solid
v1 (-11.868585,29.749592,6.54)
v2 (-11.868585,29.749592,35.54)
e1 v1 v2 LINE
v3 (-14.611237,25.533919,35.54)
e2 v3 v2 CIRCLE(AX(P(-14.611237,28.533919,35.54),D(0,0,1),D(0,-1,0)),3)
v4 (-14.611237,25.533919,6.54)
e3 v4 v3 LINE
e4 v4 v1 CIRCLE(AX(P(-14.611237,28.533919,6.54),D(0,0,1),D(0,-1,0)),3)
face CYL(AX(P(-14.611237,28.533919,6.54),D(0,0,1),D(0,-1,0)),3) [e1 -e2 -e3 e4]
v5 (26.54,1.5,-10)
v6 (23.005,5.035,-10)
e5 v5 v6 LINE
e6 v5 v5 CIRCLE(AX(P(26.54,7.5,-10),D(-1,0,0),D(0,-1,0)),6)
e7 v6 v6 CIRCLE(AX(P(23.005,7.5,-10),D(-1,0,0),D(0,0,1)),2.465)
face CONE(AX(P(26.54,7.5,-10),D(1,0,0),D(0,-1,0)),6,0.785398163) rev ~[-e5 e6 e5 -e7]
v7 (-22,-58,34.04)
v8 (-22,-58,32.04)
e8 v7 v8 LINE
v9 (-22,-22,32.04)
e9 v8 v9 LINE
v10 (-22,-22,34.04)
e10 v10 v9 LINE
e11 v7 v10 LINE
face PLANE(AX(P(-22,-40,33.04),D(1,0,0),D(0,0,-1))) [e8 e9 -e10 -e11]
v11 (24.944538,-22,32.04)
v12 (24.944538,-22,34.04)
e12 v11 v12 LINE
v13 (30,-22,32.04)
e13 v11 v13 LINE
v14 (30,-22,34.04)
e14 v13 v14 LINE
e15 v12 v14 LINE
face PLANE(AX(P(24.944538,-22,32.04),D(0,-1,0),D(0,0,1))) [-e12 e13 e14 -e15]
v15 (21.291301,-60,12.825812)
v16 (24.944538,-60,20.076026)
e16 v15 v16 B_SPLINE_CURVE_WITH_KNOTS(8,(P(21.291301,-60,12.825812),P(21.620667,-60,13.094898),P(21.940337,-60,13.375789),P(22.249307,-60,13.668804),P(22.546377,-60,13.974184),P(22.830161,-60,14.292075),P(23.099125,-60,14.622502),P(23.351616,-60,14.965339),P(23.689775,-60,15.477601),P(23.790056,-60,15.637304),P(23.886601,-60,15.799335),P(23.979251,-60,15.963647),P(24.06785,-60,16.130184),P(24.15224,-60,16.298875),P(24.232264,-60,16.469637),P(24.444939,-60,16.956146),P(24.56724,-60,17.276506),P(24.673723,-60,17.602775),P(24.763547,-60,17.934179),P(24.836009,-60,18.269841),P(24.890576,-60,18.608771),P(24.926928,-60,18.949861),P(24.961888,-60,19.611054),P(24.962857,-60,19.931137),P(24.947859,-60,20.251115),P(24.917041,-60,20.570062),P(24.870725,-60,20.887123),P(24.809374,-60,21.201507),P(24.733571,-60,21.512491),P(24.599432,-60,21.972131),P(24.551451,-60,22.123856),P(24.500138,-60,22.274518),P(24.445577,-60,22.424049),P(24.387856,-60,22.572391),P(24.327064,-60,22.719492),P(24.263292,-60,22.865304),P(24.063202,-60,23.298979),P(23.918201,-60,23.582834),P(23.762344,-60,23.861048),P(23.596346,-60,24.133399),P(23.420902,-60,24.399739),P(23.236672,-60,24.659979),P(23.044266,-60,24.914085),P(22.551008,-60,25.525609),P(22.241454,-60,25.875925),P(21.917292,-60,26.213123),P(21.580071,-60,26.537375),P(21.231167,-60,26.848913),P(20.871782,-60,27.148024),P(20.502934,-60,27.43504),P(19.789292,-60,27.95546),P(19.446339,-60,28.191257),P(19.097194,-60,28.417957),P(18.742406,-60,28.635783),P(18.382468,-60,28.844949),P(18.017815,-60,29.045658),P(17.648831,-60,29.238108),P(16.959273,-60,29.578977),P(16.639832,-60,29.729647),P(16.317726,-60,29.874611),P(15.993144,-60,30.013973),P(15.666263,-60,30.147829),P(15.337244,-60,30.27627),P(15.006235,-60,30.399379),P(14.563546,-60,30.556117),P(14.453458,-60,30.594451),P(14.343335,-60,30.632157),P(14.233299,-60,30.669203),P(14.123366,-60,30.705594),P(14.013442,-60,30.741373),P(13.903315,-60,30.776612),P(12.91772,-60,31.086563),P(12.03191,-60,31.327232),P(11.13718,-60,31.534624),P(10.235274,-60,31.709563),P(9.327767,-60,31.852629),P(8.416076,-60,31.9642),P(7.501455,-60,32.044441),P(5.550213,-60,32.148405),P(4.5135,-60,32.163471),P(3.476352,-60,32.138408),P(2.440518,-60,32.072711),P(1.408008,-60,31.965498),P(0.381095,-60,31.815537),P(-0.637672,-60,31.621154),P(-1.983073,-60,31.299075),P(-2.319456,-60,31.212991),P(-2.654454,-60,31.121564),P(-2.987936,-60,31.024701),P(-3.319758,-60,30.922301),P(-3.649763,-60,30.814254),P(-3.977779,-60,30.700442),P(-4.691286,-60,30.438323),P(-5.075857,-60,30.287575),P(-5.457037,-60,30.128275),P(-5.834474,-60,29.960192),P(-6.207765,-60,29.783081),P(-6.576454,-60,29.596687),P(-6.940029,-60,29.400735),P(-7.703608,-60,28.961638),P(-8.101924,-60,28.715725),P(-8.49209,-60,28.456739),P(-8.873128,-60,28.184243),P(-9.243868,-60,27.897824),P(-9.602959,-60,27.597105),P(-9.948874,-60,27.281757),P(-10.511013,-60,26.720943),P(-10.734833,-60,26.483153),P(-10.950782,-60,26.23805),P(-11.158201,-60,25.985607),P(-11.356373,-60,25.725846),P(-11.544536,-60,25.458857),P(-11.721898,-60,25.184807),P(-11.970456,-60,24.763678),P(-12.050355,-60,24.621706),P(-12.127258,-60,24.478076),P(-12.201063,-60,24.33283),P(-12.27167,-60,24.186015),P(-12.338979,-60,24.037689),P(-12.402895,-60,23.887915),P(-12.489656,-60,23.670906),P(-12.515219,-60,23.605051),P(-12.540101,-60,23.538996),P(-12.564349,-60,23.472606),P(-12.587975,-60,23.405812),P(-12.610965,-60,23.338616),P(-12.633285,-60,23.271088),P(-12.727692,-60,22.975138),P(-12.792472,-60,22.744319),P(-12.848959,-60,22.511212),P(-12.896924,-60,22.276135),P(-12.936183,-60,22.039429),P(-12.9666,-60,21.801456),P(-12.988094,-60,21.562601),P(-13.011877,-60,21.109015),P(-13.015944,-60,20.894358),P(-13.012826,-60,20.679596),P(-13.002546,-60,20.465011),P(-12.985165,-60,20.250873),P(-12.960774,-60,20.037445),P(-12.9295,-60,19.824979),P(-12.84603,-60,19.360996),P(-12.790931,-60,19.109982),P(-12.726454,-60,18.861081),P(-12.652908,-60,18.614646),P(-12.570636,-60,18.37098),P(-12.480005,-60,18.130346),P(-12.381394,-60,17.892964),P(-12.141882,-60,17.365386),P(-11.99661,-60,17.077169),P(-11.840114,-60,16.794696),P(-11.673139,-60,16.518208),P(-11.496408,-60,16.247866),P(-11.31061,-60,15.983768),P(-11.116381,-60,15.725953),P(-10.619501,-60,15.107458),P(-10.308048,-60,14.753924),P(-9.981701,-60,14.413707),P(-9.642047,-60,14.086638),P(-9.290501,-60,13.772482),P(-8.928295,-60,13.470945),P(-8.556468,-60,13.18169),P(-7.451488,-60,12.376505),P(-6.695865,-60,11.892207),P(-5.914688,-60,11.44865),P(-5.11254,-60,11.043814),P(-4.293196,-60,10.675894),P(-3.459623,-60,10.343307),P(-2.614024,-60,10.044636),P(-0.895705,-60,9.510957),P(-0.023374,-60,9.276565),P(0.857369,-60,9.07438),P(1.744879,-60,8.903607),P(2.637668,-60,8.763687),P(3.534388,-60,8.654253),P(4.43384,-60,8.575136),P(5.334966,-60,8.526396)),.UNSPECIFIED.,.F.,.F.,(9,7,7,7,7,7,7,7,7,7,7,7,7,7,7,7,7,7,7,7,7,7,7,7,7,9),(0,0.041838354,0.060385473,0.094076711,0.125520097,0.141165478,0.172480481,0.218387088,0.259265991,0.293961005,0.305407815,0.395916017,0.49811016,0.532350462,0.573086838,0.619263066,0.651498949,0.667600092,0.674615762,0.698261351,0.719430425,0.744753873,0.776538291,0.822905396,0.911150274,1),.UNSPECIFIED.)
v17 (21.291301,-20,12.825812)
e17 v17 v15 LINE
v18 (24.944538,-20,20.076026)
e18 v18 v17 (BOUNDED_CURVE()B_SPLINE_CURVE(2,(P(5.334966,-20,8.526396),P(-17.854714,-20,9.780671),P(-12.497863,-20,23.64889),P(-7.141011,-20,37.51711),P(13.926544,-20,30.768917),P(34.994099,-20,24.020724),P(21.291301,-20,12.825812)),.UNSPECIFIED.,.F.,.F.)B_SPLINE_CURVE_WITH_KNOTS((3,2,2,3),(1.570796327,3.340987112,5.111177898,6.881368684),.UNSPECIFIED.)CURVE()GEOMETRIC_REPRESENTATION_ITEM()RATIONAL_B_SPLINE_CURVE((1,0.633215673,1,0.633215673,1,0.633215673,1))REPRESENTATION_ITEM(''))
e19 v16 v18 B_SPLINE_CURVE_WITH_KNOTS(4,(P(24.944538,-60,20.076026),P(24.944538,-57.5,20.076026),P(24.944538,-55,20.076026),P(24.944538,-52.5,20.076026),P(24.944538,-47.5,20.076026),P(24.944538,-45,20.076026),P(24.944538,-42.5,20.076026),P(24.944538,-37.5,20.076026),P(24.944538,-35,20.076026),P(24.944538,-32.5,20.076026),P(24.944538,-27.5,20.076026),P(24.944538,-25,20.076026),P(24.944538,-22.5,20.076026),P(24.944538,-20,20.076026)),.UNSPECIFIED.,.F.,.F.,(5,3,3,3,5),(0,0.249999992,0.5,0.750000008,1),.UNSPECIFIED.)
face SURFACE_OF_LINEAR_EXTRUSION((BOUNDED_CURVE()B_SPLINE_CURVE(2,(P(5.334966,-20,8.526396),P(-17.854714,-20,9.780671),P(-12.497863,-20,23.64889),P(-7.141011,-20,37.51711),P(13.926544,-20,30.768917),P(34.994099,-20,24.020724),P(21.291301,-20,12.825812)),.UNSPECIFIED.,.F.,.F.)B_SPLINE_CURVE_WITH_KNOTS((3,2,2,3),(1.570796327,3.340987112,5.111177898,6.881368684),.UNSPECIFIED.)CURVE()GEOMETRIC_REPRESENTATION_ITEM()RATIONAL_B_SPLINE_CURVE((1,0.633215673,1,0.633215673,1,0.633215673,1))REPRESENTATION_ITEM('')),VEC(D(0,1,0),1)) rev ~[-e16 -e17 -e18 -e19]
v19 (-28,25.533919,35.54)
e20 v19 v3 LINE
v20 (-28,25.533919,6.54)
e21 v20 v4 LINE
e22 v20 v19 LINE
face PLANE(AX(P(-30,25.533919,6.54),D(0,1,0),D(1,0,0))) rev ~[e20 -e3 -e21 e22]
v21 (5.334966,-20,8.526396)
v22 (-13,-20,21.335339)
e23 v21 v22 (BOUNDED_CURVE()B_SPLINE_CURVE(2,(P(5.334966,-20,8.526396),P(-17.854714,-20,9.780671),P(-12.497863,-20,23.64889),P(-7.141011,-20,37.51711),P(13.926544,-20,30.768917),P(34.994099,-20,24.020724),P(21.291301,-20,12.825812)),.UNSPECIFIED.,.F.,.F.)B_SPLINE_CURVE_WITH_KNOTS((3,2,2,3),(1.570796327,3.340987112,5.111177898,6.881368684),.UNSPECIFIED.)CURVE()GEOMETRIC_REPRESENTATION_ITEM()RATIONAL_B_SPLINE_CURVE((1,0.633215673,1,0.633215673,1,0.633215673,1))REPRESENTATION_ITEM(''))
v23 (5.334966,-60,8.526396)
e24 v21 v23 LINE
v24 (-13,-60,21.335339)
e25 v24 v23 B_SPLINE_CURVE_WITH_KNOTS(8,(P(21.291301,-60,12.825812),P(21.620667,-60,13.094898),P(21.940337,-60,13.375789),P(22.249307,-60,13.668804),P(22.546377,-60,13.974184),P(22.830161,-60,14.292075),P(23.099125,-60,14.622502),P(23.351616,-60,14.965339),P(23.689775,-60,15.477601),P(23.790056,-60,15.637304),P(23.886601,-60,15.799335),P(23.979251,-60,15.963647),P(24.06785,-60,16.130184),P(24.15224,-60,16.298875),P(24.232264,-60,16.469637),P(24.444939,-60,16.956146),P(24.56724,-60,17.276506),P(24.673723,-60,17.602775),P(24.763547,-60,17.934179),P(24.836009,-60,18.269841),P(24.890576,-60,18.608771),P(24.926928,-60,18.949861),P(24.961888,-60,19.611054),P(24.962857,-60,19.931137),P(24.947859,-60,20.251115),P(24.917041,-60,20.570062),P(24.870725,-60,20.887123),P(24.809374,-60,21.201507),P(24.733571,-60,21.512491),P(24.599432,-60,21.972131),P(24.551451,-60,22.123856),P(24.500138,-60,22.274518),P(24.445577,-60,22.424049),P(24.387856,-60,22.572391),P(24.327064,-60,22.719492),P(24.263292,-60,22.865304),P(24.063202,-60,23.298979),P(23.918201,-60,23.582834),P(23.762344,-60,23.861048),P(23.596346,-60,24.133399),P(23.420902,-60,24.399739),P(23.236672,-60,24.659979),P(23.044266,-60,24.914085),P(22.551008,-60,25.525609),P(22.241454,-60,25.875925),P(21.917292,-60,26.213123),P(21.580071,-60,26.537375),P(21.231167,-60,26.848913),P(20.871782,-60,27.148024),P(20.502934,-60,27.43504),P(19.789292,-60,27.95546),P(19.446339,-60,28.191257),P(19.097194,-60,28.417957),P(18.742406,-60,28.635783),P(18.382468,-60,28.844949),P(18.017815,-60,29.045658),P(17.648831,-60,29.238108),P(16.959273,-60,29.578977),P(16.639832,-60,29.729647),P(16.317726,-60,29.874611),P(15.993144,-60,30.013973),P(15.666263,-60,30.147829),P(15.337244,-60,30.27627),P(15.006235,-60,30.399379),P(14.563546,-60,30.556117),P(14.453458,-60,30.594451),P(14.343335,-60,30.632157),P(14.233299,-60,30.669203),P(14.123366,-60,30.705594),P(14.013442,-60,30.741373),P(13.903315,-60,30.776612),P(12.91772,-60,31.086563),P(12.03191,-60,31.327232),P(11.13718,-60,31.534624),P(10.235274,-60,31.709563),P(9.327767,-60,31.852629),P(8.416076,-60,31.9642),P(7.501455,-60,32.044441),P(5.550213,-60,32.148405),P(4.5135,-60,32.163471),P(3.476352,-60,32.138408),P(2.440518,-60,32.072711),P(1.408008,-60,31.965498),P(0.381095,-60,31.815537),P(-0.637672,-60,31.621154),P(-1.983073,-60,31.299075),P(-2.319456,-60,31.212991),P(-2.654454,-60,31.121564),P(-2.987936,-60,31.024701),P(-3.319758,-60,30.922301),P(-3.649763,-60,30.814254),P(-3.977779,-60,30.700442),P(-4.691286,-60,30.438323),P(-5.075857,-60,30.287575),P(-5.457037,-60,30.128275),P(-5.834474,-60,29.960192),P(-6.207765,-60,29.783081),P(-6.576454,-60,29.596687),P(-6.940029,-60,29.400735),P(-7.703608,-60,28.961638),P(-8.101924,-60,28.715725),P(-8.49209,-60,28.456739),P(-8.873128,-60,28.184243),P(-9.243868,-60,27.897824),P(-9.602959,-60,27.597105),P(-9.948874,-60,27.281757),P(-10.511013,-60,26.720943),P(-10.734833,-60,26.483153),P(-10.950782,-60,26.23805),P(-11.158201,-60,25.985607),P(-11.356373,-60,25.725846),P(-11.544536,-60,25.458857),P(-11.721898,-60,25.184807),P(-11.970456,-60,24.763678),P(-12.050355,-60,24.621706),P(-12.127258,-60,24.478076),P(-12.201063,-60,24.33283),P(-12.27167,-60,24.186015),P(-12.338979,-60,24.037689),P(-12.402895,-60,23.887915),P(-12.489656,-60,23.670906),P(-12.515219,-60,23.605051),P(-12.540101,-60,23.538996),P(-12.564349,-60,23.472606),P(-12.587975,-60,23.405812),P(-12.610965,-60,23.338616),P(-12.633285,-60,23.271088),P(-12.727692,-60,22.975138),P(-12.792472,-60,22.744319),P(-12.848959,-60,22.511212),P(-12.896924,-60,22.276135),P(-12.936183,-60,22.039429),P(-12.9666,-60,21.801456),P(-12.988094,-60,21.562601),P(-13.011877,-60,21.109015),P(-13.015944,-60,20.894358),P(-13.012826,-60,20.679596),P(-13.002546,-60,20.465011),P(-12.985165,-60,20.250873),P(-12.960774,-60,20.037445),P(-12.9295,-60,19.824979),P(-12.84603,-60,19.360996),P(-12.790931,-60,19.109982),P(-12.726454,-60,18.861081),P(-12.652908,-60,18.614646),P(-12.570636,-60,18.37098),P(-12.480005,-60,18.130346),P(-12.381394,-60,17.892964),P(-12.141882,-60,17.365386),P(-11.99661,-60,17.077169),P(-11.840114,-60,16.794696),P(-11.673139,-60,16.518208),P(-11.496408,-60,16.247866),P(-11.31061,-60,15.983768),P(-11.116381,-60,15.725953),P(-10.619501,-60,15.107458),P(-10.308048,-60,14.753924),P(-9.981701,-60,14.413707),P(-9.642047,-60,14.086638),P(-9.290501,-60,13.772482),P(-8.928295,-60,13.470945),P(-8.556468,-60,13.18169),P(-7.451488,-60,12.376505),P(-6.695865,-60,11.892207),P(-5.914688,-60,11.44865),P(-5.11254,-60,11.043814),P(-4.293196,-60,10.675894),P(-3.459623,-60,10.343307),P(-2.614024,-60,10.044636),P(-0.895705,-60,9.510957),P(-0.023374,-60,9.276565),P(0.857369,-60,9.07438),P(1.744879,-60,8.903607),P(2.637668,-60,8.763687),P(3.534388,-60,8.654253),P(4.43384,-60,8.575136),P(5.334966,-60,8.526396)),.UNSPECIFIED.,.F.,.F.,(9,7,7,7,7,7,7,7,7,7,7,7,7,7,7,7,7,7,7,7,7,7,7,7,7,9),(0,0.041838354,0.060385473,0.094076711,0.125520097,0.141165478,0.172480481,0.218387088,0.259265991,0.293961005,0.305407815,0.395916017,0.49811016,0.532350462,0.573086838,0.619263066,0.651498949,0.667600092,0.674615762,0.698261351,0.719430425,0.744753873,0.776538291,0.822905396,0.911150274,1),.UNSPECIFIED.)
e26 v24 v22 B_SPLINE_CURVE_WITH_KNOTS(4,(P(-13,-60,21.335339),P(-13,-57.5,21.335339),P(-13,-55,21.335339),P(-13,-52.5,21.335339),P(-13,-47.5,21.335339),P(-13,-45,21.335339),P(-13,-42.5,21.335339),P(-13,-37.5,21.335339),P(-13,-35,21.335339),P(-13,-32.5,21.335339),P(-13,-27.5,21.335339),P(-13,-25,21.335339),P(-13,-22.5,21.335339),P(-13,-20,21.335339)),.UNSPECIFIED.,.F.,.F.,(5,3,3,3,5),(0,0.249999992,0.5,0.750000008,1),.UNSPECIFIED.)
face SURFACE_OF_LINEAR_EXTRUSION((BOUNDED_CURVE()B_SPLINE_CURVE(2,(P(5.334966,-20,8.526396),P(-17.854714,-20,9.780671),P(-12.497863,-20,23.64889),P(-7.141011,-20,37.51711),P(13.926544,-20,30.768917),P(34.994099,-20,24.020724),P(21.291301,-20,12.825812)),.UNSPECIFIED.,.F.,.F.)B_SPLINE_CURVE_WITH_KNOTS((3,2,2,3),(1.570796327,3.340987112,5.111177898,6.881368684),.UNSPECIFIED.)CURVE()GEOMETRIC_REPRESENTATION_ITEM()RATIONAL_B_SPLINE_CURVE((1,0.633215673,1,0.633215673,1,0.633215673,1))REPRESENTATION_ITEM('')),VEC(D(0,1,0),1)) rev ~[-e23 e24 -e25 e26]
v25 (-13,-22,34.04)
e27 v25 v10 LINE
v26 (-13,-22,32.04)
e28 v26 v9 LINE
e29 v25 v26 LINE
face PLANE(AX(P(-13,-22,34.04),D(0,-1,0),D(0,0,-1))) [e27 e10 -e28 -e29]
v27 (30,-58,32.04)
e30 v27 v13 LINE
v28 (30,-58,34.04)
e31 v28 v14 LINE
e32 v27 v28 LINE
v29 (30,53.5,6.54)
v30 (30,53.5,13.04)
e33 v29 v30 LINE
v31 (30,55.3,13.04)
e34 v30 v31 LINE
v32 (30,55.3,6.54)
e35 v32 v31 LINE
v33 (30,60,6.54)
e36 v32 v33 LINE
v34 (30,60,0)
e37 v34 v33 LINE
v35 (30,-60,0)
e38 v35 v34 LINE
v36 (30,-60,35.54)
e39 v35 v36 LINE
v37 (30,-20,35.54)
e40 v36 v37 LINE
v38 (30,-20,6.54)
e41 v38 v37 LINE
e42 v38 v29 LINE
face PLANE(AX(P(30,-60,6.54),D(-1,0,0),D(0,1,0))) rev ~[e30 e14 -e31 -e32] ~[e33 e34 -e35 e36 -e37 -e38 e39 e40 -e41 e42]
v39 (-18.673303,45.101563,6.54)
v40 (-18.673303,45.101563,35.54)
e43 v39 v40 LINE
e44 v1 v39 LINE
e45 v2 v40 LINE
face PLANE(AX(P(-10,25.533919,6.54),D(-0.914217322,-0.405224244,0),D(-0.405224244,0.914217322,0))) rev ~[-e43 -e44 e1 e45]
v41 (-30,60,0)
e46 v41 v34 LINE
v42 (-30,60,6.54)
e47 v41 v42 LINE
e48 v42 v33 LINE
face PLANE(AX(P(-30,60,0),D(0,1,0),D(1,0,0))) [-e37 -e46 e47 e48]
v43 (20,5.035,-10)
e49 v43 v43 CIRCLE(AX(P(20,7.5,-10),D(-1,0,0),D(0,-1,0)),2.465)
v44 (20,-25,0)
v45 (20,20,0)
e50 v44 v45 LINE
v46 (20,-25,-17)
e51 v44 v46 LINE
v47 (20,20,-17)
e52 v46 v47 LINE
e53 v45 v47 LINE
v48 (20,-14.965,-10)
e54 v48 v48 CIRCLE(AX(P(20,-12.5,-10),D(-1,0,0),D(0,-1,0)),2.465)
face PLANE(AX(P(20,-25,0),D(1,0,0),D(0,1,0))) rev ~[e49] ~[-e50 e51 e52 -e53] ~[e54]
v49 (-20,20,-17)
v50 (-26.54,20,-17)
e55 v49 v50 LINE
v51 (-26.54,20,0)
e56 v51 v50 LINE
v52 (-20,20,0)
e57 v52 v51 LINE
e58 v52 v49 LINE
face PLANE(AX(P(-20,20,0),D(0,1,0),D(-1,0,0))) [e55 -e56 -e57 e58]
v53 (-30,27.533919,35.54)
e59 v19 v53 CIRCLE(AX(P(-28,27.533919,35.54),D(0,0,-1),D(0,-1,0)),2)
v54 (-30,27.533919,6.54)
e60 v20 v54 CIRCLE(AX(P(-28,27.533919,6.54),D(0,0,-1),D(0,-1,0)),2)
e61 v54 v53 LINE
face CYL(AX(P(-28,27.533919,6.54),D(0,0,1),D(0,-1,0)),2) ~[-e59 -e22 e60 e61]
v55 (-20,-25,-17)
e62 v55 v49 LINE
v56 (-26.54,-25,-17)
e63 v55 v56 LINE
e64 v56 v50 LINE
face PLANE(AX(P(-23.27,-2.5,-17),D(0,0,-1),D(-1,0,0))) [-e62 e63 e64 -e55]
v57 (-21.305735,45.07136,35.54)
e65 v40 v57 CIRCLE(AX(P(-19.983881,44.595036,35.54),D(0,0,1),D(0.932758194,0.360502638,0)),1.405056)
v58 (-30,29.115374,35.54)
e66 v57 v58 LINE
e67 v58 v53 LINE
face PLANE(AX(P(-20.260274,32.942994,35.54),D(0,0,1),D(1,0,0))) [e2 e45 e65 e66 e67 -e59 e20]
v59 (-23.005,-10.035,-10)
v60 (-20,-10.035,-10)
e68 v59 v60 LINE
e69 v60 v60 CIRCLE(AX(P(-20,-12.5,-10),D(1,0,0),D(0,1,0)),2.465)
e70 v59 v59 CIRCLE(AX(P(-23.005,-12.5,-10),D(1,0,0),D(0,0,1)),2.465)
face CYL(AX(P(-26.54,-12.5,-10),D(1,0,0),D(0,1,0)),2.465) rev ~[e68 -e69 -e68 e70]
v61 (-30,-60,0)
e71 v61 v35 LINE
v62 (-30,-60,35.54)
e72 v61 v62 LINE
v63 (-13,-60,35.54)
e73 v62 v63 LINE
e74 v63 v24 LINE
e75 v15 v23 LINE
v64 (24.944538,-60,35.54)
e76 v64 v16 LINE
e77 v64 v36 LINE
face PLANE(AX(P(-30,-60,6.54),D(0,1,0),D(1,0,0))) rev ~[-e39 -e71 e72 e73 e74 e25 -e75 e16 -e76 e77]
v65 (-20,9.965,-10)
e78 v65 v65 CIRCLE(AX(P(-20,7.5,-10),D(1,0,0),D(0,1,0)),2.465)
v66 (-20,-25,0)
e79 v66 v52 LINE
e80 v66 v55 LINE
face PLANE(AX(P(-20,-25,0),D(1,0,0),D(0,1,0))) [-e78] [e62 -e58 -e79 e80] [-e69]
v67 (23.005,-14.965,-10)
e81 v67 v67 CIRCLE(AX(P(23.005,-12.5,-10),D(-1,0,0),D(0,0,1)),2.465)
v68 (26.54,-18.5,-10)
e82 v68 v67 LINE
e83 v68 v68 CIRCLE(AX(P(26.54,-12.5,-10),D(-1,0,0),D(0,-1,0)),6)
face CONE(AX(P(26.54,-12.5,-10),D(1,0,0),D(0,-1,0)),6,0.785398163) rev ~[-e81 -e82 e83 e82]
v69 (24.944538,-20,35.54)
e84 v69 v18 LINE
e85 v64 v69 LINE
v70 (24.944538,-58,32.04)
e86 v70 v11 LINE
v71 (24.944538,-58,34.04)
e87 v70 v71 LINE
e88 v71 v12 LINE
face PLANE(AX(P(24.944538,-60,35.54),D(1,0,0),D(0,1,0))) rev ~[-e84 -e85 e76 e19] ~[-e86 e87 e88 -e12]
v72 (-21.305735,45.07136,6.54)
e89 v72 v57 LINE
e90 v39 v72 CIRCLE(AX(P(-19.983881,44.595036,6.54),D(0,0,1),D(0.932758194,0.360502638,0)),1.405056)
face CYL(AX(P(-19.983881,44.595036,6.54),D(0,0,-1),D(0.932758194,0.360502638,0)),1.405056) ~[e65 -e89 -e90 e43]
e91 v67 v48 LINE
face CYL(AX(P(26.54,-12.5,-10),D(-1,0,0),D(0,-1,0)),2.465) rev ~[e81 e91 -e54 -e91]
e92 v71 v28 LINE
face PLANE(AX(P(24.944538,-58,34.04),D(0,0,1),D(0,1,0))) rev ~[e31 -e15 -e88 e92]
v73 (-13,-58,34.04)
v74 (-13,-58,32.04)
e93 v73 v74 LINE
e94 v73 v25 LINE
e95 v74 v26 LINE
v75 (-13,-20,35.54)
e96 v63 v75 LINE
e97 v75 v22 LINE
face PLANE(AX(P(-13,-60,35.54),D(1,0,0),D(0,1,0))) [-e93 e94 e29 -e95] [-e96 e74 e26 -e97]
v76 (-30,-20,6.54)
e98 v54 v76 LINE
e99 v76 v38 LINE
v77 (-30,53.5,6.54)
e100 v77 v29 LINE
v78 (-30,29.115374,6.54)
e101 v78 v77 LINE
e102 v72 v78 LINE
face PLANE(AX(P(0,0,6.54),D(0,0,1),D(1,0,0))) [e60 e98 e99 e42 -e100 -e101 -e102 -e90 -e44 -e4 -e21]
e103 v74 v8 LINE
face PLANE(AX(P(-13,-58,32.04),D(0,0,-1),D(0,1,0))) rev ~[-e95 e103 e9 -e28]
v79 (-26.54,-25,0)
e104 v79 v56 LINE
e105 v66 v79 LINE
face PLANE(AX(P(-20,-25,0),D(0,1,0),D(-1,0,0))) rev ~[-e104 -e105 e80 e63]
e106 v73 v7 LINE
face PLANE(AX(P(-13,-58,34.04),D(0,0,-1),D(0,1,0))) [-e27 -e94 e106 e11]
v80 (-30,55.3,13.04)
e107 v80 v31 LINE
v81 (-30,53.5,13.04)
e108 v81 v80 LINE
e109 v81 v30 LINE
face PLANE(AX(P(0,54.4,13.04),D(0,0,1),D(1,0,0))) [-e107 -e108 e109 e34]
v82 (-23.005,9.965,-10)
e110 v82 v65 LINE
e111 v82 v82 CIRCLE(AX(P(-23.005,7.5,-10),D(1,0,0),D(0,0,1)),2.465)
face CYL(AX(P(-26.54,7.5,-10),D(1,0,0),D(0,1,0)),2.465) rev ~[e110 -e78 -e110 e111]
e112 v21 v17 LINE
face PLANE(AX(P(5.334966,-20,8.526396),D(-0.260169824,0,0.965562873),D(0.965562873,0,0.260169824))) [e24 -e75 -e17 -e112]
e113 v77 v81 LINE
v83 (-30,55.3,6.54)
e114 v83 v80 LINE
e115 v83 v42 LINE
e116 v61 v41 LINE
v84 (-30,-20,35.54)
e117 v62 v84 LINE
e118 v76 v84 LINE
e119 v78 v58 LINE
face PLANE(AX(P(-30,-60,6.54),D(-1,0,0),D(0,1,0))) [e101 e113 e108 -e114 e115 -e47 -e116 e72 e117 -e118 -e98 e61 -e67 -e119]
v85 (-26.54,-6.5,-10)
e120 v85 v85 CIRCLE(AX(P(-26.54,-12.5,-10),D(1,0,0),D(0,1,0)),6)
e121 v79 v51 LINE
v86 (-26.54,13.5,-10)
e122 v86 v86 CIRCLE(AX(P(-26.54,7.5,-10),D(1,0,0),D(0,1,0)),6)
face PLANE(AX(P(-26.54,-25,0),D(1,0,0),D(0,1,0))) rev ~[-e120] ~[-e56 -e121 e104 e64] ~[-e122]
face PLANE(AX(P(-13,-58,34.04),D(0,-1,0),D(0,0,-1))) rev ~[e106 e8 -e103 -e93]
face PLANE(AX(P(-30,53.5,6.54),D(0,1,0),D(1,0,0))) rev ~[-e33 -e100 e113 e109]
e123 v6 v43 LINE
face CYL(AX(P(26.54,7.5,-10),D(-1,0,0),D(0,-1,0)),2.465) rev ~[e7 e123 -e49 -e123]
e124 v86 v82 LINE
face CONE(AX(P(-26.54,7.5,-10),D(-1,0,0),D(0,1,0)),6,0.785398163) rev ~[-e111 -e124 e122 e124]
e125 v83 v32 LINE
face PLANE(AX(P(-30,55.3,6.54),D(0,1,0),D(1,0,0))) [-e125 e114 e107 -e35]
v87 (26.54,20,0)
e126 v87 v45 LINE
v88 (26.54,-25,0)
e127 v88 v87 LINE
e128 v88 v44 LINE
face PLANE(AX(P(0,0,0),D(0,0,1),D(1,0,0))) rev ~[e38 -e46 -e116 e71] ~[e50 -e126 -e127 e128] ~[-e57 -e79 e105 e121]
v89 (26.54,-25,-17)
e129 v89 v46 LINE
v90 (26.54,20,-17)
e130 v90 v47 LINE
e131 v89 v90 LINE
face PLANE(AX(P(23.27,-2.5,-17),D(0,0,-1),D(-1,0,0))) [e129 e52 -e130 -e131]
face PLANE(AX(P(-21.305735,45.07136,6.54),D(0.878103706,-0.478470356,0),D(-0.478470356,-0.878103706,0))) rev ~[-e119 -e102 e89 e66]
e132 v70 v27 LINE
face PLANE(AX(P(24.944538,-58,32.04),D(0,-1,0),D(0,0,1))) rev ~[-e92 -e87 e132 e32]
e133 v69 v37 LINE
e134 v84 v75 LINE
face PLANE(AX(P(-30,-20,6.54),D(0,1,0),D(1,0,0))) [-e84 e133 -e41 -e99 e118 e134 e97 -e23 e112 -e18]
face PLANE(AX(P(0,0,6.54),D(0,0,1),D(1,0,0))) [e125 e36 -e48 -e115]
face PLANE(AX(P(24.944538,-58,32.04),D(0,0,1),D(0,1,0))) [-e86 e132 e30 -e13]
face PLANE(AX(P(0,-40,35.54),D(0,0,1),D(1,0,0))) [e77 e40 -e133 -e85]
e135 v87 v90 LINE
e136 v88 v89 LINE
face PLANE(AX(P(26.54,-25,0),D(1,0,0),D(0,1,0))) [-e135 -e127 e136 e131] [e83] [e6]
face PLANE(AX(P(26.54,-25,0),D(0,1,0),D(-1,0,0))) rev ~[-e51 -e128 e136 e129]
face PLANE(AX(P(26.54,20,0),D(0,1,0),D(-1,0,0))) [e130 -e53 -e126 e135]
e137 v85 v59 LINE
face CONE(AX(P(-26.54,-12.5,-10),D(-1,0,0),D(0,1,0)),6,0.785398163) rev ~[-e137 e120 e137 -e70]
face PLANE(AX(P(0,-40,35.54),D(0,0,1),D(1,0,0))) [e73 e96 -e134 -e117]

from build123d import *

# Parameters (mm, degrees)
SKETCH1_W                                       = 60
SKETCH1_H                                       = 120
BOSS_EXTRUDE1_DEPTH                             = 6.54
SKETCH10_W                                      = 6.54
SKETCH10_H                                      = 45
BOSS_EXTRUDE5_DEPTH                             = 17
SKETCH17_W                                      = 60
SKETCH17_H                                      = 40
BOSS_EXTRUDE6_DEPTH                             = 29
CUT_EXTRUDE1_REACH                              = 42
CUT_EXTRUDE2_REACH                              = 54.54
SKETCH21_W                                      = 37.9445377
SKETCH21_H                                      = 40
SKETCH23_W                                      = 2
SKETCH23_H                                      = 36
CUT_EXTRUDE3_DEPTH                              = 9
SKETCH24_W                                      = 2
SKETCH24_H                                      = 36
CUT_EXTRUDE4_DEPTH                              = 9
CSK_FOR_M3_FLAT_HEAD_MACHINE_SCREW4_D           = 4.93
CSK_FOR_M3_FLAT_HEAD_MACHINE_SCREW4_DEPTH       = 6.54
CSK_FOR_M3_FLAT_HEAD_MACHINE_SCREW4_CSINK_D     = 12
CSK_FOR_M3_FLAT_HEAD_MACHINE_SCREW4_CSINK_ANGLE = 90
CSK_FOR_M3_FLAT_HEAD_MACHINE_SCREW5_D           = 4.93
CSK_FOR_M3_FLAT_HEAD_MACHINE_SCREW5_DEPTH       = 6.54
CSK_FOR_M3_FLAT_HEAD_MACHINE_SCREW5_CSINK_D     = 12
CSK_FOR_M3_FLAT_HEAD_MACHINE_SCREW5_CSINK_ANGLE = 90
BOSS_EXTRUDE8_DEPTH                             = 29
SKETCH36_W                                      = 60
SKETCH36_H                                      = 1.8
BOSS_EXTRUDE9_DEPTH                             = 6.5
FILLET1_R                                       = 3
FILLET2_R                                       = 2


with BuildPart() as part:
    # Sketch1 → Boss-Extrude1 (new body)
    with BuildSketch(Plane.XY):
        Rectangle(SKETCH1_W, SKETCH1_H)
    extrude(amount=BOSS_EXTRUDE1_DEPTH)

    # Sketch10 → Boss-Extrude5 (add)
    with BuildSketch(Plane(origin=(0, 0, 0), x_dir=(-1, 0, 0), z_dir=(0, 0, -1))):
        with Locations((23.27, -2.5)):
            Rectangle(SKETCH10_W, SKETCH10_H)
        with Locations((-23.27, -2.5)):
            Rectangle(SKETCH10_W, SKETCH10_H)
    extrude(amount=BOSS_EXTRUDE5_DEPTH)

    # Sketch17 → Boss-Extrude6 (add)
    with BuildSketch(Plane.XY.offset(6.54)):
        with Locations((0, -40)):
            Rectangle(SKETCH17_W, SKETCH17_H)
    extrude(amount=BOSS_EXTRUDE6_DEPTH)

    # Sketch18 → Cut-Extrude1 (cut, up to next)
    with BuildSketch(Plane(origin=(0, -20, 0), x_dir=(1, 0, 0), z_dir=(0, 1, 0)), mode=Mode.PRIVATE) as cut_extrude1_sk1:
        with BuildLine():
            Line((5.334966353, -8.526396136), (21.291300905, -12.825812438))
            add(Edge.make_bspline(
                [(5.334966353, -8.526396136), (-17.854714365, -9.780670981), (-12.49786254, -23.648890313), (-7.141010715, -37.517109645), (13.926544327, -30.768916863), (34.994099369, -24.020724082), (21.291300905, -12.825812438)],
                knots=[1.570796327, 1.570796327, 1.570796327, 3.340987112, 3.340987112, 5.111177898, 5.111177898, 6.881368684, 6.881368684, 6.881368684], degree=2, weights=[1, 0.633215673, 1, 0.633215673, 1, 0.633215673, 1]))
        make_face()
    cut_extrude1_tool1 = extrude(cut_extrude1_sk1.sketch, amount=-CUT_EXTRUDE1_REACH, mode=Mode.PRIVATE) & part.part
    add(cut_extrude1_tool1.solids().sort_by_distance((5.792514, -20, 20.554542))[0], mode=Mode.SUBTRACT)

    # Sketch21 → Cut-Extrude2 (cut, up to next)
    with BuildSketch(Plane.XY.offset(35.54), mode=Mode.PRIVATE) as cut_extrude2_sk1:
        with Locations((5.97226885, -40)):
            Rectangle(SKETCH21_W, SKETCH21_H)
    cut_extrude2_tool1 = extrude(cut_extrude2_sk1.sketch, amount=-CUT_EXTRUDE2_REACH, mode=Mode.PRIVATE) & part.part
    add(cut_extrude2_tool1.solids().sort_by_distance((5.972269, -40, 35.54))[0], mode=Mode.SUBTRACT)

    # Sketch23 → Cut-Extrude3 (cut)
    with BuildSketch(Plane(origin=(-13, 0, 0), x_dir=(0, 0, -1), z_dir=(1, 0, 0))):
        with Locations((-33.04, -40)):
            Rectangle(SKETCH23_W, SKETCH23_H)
    extrude(amount=-CUT_EXTRUDE3_DEPTH, mode=Mode.SUBTRACT)

    # Sketch24 → Cut-Extrude4 (cut)
    with BuildSketch(Plane.ZY.offset(-24.9445377)):
        with Locations((33.04, -40)):
            Rectangle(SKETCH24_W, SKETCH24_H)
    extrude(amount=-CUT_EXTRUDE4_DEPTH, mode=Mode.SUBTRACT)

    # CSK for M3 Flat Head Machine Screw4
    with Locations(Plane(origin=(26.54, -12.5, -10), x_dir=(0, 1, 0), z_dir=(1, 0, 0))):
        with Locations((0, 0), (20, 0)):
            CounterSinkHole(CSK_FOR_M3_FLAT_HEAD_MACHINE_SCREW4_D / 2, CSK_FOR_M3_FLAT_HEAD_MACHINE_SCREW4_CSINK_D / 2, depth=CSK_FOR_M3_FLAT_HEAD_MACHINE_SCREW4_DEPTH, counter_sink_angle=CSK_FOR_M3_FLAT_HEAD_MACHINE_SCREW4_CSINK_ANGLE)

    # CSK for M3 Flat Head Machine Screw5
    with Locations(Plane(origin=(-26.54, -12.5, -10), x_dir=(0, -1, 0), z_dir=(-1, 0, 0))):
        with Locations((0, 0), (-20, 0)):
            CounterSinkHole(CSK_FOR_M3_FLAT_HEAD_MACHINE_SCREW5_D / 2, CSK_FOR_M3_FLAT_HEAD_MACHINE_SCREW5_CSINK_D / 2, depth=CSK_FOR_M3_FLAT_HEAD_MACHINE_SCREW5_DEPTH, counter_sink_angle=CSK_FOR_M3_FLAT_HEAD_MACHINE_SCREW5_CSINK_ANGLE)

    # Sketch7 → Boss-Extrude8 (add)
    with BuildSketch(Plane.XY.offset(6.54)):
        with BuildLine():
            Line((-10, 25.533918981), (-18.67330273, 45.101562584))
            ThreePointArc((-18.67330273, 45.101562584), (-20, 46), (-21.305734932, 45.071360283))
            Line((-21.305734932, 45.071360283), (-30, 29.115374119))
            Line((-30, 29.115374119), (-30, 25.533918981))
            Line((-30, 25.533918981), (-10, 25.533918981))
        make_face()
    extrude(amount=BOSS_EXTRUDE8_DEPTH)

    # Sketch36 → Boss-Extrude9 (add)
    with BuildSketch(Plane.XY.offset(6.54)):
        with Locations((0, 54.4)):
            Rectangle(SKETCH36_W, SKETCH36_H)
    extrude(amount=BOSS_EXTRUDE9_DEPTH)

    # Fillet1
    fillet1_edges = [part.edges().sort_by_distance(p)[0] for p in [
        (-10, 25.533918981, 21.04),
    ]]
    fillet(fillet1_edges, radius=FILLET1_R)

    # Fillet2
    fillet2_edges = [part.edges().sort_by_distance(p)[0] for p in [
        (-30, 25.533918981, 21.04),
    ]]
    fillet(fillet2_edges, radius=FILLET2_R)


solid = part.part
